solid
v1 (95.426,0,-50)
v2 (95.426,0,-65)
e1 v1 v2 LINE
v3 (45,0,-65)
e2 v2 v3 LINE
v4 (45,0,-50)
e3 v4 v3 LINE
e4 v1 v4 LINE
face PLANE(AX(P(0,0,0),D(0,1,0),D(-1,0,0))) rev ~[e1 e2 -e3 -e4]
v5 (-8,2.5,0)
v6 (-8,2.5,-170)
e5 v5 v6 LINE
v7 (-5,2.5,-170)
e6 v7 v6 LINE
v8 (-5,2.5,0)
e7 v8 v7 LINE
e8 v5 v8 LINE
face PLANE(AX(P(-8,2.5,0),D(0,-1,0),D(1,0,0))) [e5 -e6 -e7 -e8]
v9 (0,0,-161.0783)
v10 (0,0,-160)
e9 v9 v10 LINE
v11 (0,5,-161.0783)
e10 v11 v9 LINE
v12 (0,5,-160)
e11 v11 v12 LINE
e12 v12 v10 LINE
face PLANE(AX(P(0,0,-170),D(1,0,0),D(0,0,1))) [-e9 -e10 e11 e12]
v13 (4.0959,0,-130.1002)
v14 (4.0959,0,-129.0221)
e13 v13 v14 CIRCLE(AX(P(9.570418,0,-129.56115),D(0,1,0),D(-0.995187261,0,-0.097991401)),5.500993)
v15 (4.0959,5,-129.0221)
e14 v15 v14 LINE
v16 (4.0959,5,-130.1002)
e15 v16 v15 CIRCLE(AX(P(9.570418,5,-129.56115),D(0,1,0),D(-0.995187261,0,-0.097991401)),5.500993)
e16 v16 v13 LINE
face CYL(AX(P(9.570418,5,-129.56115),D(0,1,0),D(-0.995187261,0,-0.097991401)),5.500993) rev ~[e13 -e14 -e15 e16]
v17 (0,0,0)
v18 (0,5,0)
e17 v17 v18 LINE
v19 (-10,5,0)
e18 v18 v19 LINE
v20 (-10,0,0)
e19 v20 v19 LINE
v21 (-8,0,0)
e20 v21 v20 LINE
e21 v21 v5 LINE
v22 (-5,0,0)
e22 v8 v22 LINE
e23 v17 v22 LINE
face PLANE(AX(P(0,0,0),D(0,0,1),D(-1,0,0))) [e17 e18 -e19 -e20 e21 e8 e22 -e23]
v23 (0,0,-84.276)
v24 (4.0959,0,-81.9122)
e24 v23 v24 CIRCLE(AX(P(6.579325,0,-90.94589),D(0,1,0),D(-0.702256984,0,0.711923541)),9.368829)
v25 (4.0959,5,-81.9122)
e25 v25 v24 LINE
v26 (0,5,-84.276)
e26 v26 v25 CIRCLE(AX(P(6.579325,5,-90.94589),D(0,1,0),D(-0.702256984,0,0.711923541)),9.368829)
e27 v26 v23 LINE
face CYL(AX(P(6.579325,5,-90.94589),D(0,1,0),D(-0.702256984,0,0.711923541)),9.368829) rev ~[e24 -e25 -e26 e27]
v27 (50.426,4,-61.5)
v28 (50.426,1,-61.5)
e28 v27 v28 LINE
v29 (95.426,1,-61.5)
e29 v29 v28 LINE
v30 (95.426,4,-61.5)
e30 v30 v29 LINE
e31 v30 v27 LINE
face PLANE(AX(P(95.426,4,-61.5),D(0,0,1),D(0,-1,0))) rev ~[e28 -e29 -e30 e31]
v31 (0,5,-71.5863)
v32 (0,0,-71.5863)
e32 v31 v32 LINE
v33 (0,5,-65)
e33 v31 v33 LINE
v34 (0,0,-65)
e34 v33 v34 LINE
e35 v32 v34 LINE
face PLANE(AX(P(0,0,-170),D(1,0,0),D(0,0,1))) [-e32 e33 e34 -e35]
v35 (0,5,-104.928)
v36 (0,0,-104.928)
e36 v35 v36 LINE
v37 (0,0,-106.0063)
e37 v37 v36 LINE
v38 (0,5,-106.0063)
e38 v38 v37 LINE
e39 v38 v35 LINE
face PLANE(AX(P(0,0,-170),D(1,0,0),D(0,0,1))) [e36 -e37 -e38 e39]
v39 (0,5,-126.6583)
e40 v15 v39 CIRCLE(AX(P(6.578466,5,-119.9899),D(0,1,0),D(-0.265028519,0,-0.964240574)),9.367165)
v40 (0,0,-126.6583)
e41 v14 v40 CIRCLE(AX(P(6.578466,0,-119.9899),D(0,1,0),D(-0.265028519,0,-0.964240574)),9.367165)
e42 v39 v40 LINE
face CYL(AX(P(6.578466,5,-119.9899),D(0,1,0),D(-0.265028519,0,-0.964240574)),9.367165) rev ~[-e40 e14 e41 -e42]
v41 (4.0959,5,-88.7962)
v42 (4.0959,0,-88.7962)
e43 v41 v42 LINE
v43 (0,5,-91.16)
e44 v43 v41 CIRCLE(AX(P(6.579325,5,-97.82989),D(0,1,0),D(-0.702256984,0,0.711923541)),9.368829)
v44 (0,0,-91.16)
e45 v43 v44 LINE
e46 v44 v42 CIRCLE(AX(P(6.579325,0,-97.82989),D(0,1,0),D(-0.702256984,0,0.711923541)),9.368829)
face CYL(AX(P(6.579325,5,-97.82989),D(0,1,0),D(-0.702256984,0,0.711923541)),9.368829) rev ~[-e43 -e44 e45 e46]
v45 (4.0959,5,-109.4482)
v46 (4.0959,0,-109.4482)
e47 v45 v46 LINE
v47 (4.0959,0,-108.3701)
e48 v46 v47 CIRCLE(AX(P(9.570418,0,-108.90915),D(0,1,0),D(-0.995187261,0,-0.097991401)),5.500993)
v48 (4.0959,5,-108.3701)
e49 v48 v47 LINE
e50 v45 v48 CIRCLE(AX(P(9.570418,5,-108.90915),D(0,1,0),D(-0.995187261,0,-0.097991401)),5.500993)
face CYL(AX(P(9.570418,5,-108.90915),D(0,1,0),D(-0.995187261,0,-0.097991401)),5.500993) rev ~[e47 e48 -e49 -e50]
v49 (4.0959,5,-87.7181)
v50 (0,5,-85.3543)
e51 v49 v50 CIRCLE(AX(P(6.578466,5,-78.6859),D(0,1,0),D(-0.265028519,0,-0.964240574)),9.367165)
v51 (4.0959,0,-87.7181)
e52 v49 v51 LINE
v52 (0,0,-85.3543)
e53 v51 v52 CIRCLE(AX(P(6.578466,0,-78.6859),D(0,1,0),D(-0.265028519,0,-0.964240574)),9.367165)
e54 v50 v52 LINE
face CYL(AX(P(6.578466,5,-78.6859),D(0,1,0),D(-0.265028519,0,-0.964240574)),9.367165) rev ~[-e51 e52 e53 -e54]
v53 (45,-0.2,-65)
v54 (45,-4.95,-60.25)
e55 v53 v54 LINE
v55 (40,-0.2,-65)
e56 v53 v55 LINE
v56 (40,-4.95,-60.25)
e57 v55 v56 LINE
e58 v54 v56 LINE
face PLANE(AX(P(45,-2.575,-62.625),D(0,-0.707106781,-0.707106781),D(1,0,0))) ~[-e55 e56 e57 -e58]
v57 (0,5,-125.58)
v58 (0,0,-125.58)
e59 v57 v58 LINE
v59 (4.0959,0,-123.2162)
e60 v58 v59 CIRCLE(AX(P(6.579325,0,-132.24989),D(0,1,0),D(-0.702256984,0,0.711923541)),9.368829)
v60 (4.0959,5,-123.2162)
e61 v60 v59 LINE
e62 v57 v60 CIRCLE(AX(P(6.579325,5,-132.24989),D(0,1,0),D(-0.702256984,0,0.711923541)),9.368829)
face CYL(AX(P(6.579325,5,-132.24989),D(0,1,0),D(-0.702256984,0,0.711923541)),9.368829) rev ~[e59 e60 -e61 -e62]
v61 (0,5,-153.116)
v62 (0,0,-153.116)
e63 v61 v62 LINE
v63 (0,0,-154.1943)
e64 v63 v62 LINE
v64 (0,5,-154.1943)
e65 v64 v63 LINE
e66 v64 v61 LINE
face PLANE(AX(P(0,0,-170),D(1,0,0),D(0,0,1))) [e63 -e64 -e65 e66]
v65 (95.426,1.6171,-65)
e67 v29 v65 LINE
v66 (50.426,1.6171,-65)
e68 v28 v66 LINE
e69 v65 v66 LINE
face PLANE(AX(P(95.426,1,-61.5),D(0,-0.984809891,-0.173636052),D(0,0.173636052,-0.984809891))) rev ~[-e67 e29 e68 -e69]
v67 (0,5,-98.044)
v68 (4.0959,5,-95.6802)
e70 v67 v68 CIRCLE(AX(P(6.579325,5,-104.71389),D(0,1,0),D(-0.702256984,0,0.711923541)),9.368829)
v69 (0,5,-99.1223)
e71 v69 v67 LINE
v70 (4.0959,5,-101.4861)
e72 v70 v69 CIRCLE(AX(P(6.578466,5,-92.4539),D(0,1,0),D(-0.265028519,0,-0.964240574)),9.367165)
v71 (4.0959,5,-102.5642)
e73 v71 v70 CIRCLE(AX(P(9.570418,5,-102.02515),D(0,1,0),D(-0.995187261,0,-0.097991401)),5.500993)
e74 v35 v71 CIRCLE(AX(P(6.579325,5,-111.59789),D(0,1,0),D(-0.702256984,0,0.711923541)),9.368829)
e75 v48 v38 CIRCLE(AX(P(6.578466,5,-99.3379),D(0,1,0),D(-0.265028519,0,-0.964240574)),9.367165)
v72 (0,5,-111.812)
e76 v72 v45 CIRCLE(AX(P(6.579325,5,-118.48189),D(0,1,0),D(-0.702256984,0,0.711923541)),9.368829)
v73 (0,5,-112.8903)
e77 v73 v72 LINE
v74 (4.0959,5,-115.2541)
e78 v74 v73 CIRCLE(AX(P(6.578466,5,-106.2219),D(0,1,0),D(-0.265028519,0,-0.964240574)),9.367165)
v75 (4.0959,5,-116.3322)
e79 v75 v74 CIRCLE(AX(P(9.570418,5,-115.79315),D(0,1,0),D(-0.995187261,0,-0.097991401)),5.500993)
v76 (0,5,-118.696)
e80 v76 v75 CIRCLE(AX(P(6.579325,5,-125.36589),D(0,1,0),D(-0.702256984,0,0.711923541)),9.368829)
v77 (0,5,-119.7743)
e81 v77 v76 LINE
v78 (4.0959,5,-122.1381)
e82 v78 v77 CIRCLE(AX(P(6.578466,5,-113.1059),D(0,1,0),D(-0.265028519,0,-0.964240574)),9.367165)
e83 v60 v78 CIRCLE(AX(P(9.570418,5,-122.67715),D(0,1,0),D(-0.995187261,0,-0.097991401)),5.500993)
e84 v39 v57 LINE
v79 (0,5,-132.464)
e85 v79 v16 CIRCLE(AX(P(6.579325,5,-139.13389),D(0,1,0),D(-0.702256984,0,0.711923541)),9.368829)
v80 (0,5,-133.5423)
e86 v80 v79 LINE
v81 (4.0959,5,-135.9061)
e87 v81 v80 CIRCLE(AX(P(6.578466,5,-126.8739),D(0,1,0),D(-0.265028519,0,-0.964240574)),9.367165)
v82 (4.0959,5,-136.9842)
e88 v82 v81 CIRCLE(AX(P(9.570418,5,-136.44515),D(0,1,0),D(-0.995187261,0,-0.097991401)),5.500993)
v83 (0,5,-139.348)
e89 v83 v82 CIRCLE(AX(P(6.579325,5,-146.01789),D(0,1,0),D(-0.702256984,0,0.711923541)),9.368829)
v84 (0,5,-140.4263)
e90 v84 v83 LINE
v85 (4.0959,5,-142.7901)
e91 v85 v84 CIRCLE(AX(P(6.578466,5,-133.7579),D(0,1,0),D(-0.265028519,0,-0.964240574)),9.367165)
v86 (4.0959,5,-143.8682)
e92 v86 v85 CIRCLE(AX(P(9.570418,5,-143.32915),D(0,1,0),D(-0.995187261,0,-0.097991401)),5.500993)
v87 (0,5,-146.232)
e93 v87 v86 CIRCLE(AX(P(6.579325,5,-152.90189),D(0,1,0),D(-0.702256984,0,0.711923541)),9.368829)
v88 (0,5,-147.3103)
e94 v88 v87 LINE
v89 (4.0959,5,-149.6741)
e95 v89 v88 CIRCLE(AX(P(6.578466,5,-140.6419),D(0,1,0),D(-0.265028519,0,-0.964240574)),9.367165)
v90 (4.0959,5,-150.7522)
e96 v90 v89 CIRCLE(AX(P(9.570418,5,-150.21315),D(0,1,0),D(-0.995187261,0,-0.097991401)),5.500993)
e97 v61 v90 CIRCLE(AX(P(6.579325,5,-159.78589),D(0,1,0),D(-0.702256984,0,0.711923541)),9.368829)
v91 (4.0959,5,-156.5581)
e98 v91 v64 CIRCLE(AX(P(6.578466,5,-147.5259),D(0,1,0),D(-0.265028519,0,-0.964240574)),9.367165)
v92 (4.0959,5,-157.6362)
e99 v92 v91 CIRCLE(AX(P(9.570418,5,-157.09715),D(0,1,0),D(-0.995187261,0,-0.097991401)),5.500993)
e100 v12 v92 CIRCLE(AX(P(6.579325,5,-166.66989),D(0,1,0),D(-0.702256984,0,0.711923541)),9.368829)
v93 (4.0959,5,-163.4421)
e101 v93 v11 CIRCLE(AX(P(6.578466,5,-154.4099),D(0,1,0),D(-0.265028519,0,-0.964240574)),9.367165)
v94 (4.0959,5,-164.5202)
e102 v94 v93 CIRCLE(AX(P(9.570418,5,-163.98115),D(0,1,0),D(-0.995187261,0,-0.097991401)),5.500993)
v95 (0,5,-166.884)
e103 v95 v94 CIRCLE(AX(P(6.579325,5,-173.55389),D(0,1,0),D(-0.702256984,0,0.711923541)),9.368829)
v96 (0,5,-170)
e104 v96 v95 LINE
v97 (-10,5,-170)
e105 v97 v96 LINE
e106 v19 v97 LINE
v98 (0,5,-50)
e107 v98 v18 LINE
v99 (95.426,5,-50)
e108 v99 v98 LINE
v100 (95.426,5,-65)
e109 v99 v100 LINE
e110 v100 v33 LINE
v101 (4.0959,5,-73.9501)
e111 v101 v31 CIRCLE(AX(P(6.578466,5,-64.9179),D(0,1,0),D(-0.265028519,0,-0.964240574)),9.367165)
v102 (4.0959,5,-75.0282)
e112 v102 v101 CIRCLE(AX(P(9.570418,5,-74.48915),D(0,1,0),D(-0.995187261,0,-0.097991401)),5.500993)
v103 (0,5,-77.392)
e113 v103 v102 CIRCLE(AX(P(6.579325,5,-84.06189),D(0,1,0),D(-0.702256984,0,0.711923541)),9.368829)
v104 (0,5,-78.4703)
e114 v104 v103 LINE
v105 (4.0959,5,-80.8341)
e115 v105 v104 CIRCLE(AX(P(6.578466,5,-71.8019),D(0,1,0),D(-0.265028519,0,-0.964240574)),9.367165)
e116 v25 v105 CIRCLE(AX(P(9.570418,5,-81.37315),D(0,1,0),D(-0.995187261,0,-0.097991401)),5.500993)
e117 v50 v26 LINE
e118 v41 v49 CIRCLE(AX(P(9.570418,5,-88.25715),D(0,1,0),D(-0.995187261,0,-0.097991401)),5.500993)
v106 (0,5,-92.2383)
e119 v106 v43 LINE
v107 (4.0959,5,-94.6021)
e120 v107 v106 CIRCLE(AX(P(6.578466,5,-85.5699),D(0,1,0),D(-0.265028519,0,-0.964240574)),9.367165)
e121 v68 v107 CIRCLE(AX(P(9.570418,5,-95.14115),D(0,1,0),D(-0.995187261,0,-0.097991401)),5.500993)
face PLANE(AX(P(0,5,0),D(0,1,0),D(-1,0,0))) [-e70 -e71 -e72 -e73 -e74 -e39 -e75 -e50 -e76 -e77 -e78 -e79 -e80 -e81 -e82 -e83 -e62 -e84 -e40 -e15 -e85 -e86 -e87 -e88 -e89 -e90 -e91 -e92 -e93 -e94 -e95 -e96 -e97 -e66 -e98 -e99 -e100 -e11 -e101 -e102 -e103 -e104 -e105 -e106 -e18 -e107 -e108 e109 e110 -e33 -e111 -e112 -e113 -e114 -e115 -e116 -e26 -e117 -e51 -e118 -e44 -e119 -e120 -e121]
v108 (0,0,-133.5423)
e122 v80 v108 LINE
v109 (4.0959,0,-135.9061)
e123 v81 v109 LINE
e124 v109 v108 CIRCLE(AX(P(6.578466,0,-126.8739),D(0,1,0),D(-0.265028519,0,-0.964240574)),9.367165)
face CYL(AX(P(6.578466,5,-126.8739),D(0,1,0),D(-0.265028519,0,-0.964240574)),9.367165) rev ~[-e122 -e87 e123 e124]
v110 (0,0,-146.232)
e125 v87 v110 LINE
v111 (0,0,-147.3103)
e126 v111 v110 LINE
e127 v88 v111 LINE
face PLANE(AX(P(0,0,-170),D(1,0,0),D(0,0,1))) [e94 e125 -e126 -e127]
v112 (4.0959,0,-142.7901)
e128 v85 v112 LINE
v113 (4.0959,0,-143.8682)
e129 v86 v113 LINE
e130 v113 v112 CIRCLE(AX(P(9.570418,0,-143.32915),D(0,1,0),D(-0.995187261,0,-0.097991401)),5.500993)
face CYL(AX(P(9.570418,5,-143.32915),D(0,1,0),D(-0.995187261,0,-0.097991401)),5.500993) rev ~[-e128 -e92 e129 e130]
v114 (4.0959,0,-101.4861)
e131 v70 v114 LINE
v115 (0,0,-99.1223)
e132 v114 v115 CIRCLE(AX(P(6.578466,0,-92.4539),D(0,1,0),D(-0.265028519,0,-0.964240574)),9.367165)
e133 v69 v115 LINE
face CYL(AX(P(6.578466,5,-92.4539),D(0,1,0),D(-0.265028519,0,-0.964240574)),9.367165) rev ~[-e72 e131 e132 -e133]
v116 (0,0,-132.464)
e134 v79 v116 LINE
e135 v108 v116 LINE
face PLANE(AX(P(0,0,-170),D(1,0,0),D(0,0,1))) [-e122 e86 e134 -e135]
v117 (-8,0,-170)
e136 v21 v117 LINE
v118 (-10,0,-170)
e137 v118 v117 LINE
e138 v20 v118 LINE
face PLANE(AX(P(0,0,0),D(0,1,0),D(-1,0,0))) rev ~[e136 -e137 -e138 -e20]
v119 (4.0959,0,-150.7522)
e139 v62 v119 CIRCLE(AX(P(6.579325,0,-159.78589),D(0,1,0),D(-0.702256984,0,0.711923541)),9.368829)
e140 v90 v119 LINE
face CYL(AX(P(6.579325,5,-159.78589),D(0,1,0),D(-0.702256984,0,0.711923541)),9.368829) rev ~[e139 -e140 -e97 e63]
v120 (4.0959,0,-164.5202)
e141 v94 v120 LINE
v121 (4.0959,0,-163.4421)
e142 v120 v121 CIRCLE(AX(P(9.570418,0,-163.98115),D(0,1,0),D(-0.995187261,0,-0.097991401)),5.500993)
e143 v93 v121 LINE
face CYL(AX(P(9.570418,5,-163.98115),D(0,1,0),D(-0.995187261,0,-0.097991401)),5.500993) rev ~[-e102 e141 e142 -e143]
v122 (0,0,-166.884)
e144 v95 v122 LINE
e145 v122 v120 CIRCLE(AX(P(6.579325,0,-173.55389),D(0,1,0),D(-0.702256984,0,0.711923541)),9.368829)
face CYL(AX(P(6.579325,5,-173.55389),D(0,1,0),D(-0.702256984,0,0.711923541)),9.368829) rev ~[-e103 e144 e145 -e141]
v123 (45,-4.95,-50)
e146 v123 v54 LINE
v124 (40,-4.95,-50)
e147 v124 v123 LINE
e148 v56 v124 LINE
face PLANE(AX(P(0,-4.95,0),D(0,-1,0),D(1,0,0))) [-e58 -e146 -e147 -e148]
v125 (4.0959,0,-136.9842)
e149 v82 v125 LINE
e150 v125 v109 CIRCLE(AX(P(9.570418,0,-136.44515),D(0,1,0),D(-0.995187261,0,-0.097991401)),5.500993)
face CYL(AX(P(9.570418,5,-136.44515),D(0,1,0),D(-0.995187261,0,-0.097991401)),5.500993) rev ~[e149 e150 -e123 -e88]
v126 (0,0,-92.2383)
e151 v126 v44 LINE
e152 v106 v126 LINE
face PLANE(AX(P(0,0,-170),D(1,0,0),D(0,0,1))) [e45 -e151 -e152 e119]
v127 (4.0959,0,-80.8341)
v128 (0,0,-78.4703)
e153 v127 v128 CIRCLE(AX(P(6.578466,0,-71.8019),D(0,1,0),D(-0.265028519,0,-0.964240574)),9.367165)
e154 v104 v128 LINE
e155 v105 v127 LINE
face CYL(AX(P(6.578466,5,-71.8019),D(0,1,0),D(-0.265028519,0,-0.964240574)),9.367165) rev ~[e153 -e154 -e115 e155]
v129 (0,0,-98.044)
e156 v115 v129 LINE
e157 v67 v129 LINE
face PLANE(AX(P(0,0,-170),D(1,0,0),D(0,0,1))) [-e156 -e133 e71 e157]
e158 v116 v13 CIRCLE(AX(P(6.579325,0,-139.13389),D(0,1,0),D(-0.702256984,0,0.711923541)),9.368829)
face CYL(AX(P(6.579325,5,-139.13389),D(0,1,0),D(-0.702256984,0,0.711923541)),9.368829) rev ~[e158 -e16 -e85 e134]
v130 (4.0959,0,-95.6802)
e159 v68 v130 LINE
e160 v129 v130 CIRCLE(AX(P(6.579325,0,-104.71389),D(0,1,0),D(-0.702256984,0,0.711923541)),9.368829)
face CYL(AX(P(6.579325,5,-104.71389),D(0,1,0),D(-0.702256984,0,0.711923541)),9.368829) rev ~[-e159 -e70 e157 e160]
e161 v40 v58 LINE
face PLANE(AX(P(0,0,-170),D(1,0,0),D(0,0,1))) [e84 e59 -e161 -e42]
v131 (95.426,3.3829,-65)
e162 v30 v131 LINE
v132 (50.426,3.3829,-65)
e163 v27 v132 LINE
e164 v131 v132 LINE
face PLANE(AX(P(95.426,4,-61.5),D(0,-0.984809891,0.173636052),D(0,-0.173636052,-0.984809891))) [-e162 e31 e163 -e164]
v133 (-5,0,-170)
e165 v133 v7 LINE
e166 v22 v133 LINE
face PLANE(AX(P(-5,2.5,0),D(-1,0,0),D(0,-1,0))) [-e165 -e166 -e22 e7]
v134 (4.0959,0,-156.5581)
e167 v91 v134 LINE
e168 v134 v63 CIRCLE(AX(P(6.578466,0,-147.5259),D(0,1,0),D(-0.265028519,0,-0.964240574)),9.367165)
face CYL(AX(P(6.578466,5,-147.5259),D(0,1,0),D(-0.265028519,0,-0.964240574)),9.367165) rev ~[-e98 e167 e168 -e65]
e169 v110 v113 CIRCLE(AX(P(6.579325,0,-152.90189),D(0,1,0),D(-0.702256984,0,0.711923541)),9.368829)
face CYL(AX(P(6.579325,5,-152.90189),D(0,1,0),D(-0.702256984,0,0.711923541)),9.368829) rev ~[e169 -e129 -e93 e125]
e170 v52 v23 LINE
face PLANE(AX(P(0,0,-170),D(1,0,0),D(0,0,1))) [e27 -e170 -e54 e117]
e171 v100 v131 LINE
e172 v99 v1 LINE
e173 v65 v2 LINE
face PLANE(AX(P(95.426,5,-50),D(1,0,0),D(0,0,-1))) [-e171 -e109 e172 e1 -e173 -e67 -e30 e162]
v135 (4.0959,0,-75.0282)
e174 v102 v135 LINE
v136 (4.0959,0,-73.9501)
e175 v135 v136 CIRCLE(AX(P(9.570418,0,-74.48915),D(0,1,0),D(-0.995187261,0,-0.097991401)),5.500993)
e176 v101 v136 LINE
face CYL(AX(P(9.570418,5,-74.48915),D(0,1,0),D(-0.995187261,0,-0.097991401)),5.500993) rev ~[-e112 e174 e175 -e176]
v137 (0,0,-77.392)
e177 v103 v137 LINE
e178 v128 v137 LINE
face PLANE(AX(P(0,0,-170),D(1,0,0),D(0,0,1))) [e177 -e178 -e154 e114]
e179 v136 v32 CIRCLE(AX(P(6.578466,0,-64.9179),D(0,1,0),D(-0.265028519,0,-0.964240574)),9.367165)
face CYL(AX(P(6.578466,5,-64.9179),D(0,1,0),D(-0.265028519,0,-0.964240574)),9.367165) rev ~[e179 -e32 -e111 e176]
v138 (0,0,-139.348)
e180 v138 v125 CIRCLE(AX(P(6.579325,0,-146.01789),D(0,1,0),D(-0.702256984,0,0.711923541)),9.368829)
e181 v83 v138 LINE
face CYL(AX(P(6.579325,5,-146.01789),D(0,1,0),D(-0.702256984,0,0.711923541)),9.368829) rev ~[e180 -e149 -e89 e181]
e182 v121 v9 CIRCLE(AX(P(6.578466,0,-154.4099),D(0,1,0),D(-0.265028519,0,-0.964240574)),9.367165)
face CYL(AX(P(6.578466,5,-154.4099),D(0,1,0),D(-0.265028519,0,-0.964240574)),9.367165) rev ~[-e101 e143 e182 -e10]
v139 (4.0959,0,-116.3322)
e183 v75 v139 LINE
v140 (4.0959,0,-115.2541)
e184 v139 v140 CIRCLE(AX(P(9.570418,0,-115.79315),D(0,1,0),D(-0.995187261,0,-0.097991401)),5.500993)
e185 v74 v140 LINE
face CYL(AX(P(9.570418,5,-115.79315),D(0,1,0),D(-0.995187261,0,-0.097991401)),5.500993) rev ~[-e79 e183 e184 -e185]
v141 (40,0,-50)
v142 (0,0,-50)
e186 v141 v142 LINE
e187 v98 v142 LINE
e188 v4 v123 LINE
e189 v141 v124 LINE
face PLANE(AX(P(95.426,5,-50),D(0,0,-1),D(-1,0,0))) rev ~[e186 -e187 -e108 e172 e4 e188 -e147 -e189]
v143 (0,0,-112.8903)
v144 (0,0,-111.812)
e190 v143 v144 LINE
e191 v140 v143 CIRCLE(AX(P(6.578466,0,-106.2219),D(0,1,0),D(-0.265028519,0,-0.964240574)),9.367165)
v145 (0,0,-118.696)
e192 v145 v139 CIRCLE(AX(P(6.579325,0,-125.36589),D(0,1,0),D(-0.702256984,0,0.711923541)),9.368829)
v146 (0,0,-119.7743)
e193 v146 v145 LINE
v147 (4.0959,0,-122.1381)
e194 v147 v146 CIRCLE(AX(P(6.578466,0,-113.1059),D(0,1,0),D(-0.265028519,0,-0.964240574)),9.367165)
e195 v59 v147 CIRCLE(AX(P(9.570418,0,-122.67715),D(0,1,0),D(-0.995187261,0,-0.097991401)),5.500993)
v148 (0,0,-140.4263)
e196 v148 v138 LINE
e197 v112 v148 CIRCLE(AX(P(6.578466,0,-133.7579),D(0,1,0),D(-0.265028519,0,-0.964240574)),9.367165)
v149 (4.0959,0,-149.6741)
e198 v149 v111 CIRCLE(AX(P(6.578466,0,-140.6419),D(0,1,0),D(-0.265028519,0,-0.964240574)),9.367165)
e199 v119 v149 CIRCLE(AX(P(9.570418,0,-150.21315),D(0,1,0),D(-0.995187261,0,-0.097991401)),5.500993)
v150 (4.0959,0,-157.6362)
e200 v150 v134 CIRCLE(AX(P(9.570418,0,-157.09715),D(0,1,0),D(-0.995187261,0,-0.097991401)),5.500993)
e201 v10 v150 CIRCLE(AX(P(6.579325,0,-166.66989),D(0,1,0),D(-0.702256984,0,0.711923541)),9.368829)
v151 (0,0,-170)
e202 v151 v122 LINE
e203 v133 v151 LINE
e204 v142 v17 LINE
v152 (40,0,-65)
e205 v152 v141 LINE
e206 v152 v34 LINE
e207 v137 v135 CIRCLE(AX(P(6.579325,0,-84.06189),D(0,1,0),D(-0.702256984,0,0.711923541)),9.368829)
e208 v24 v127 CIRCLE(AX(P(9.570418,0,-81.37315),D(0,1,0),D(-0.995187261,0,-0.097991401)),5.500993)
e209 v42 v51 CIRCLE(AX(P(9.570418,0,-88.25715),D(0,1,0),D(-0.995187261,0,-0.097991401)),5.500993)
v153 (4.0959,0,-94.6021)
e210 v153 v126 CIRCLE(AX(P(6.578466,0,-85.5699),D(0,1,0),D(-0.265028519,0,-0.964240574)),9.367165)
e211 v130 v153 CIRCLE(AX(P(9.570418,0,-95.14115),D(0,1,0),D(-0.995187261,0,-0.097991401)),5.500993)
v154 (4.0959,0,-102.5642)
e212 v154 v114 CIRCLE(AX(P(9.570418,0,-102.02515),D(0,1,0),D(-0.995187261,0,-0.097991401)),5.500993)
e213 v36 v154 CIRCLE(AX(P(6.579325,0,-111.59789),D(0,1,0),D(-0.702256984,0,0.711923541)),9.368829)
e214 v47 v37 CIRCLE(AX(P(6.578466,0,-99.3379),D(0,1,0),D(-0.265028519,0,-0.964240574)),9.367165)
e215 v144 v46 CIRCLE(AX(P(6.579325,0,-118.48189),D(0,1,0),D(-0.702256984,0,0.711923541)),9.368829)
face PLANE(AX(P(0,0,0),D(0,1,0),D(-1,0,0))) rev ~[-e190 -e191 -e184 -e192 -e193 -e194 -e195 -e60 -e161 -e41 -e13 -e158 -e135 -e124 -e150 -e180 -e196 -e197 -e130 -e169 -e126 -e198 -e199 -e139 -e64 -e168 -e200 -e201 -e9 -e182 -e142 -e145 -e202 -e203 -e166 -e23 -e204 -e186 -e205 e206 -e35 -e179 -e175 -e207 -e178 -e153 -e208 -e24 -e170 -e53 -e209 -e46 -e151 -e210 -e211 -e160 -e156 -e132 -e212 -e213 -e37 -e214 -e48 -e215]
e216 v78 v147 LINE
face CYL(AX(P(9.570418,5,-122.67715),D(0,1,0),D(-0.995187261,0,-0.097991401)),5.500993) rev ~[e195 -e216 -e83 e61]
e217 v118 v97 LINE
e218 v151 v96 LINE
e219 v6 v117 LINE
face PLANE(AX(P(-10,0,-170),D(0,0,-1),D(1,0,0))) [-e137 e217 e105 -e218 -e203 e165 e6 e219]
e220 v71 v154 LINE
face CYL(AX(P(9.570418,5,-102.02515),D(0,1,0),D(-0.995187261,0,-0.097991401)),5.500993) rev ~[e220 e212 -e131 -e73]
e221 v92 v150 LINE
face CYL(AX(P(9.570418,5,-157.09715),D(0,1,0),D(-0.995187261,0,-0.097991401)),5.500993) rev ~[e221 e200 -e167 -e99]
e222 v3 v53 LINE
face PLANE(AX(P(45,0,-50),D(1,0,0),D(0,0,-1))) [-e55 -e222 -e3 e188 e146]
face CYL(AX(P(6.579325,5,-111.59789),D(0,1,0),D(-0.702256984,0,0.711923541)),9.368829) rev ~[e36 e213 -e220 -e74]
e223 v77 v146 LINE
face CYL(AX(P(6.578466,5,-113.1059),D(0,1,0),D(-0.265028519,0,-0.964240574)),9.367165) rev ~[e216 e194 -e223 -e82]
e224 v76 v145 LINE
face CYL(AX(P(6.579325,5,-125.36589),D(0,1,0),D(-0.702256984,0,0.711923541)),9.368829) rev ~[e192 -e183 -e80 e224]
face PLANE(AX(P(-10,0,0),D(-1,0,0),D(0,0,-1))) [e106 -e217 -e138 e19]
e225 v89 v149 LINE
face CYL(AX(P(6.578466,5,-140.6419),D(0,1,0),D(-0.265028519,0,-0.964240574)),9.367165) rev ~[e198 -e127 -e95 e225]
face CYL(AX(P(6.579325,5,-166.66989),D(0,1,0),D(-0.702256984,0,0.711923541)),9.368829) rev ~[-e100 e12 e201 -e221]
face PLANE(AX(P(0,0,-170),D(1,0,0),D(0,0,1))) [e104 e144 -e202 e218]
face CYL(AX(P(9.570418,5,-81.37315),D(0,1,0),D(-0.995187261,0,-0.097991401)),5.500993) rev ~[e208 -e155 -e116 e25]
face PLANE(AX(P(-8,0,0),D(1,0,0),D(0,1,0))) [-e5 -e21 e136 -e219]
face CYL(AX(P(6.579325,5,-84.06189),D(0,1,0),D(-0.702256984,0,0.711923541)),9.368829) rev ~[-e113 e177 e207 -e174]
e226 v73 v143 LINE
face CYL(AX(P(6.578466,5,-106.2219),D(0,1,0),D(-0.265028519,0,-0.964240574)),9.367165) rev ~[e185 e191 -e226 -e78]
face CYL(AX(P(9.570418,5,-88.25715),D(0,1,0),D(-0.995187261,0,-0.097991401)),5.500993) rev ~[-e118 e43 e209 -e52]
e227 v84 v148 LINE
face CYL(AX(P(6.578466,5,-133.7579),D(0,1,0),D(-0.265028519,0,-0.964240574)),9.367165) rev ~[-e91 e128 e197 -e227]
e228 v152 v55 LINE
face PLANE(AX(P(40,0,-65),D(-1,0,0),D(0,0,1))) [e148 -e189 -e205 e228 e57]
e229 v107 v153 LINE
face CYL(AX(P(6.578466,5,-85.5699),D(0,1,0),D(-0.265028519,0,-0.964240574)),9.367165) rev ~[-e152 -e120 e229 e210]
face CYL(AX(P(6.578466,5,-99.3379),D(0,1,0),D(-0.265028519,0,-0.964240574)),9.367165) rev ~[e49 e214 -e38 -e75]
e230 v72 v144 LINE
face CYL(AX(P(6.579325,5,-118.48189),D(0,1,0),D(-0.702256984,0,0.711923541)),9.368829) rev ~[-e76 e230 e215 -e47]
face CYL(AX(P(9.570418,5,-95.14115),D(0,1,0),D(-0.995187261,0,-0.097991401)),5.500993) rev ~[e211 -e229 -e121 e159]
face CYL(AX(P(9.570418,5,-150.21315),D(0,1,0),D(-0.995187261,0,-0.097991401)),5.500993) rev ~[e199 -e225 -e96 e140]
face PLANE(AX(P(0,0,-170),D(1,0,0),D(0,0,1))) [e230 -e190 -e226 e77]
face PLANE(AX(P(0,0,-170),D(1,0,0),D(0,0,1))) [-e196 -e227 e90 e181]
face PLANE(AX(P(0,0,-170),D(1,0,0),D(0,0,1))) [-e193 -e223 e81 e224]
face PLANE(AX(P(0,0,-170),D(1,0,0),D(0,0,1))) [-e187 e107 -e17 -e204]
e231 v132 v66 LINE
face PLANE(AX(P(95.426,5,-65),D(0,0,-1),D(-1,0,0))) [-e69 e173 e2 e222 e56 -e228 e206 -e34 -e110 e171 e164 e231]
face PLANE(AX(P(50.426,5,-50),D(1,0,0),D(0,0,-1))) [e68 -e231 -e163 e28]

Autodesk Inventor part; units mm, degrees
ref_plane "YZ Plane" through (0, 0, 0) normal (1, 0, 0) x (0, 1, 0)
ref_plane "XZ Plane" through (0, 0, 0) normal (0, 1, 0) x (-1, 0, 0)
ref_plane "XY Plane" through (0, 0, 0) normal (0, 0, 1) x (1, 0, 0)
sketch "Sketch1" plane through (0, 0, 0) normal (0, 1, 0) x (-1, 0, 0)
  line L0 (0, 0) -> (10, 0)
  line L1 (10, 0) -> (10, -170)
  line L2 (10, -170) -> (0, -170)
  line L3 (0, -170) -> (0, 0)
  dimension "d0" = 170
  dimension "d1" = 10
extrude "Extrusion1" add sketch "Sketch1" along normal blind 5
sketch "Sketch2" plane through (-10, 0, 0) normal (0, 0, 1) x (1, 0, 0)
  line L0 (2, 0) -> (2, 2.5)
  line L1 (2, 2.5) -> (5, 2.5)
  line L2 (0, 0) -> (0, 5) projected
  line L3 (5, 2.5) -> (5, 0)
  line L4 (0, 0) -> (10, 0) projected
  dimension "d6" = 2
  dimension "d9" = 3
  dimension "d75" = 2.5
sketch "Sketch4" plane through (0, 5, 0) normal (0, 1, 0) x (1, 0, 0)
  line L0 (95.426, 50) -> (95.426, 65)
  line L1 (95.426, 65) -> (0, 65)
  line L2 (95.426, 50) -> (0, 50)
  line L3 (-10, 0) -> (0, 0) projected
  line L4 (0, 0) -> (0, 170) projected
  line L5 (0, 50) -> (0, 65)
  dimension "d107" = 95.426
  dimension "d108" = 15
  dimension "d109" = 50
extrude "Extrusion4" add sketch "Sketch4" against normal blind 5
sketch "Sketch6" plane through (0, 5, 0) normal (0, 1, 0) x (1, 0, 0)
  line L0 (0, 0) -> (0, 170) projected
  line L1 (95.426, 50) -> (95.426, 65) projected
  arc A0 (4.0959, 156.5581) -> (0, 154.1943) centre (6.5788, 147.5251) ccw
  arc A1 (4.0959, 157.6362) -> (4.0959, 156.5581) centre (9.5694, 157.0972) ccw
  arc A2 (0, 160) -> (4.0959, 157.6362) centre (6.5788, 166.6692) ccw
  line L2 (0, 154.1943) -> (0, 160)
  arc A3 (4.0959, 163.4421) -> (0, 161.0783) centre (6.5788, 154.4091) ccw
  arc A4 (4.0959, 164.5202) -> (4.0959, 163.4421) centre (9.5694, 163.9812) ccw
  arc A5 (0, 166.884) -> (4.0959, 164.5202) centre (6.5788, 173.5532) ccw
  arc A6 (4.0959, 149.6741) -> (0, 147.3103) centre (6.5788, 140.6411) ccw
  arc A7 (4.0959, 150.7522) -> (4.0959, 149.6741) centre (9.5694, 150.2132) ccw
  arc A8 (0, 153.116) -> (4.0959, 150.7522) centre (6.5788, 159.7852) ccw
  arc A9 (4.0959, 142.7901) -> (0, 140.4263) centre (6.5788, 133.7571) ccw
  arc A10 (4.0959, 143.8682) -> (4.0959, 142.7901) centre (9.5694, 143.3292) ccw
  arc A11 (0, 146.232) -> (4.0959, 143.8682) centre (6.5788, 152.9012) ccw
  arc A12 (4.0959, 135.9061) -> (0, 133.5423) centre (6.5788, 126.8731) ccw
  arc A13 (4.0959, 136.9842) -> (4.0959, 135.9061) centre (9.5694, 136.4452) ccw
  arc A14 (0, 139.348) -> (4.0959, 136.9842) centre (6.5788, 146.0172) ccw
  arc A15 (4.0959, 129.0221) -> (0, 126.6583) centre (6.5788, 119.9891) ccw
  arc A16 (4.0959, 130.1002) -> (4.0959, 129.0221) centre (9.5694, 129.5612) ccw
  arc A17 (0, 132.464) -> (4.0959, 130.1002) centre (6.5788, 139.1332) ccw
  arc A18 (4.0959, 122.1381) -> (0, 119.7743) centre (6.5788, 113.1051) ccw
  arc A19 (4.0959, 123.2162) -> (4.0959, 122.1381) centre (9.5694, 122.6772) ccw
  arc A20 (0, 125.58) -> (4.0959, 123.2162) centre (6.5788, 132.2492) ccw
  arc A21 (4.0959, 115.2541) -> (0, 112.8903) centre (6.5788, 106.2211) ccw
  arc A22 (4.0959, 116.3322) -> (4.0959, 115.2541) centre (9.5694, 115.7932) ccw
  arc A23 (0, 118.696) -> (4.0959, 116.3322) centre (6.5788, 125.3652) ccw
  arc A24 (4.0959, 108.3701) -> (0, 106.0063) centre (6.5788, 99.3371) ccw
  arc A25 (4.0959, 109.4482) -> (4.0959, 108.3701) centre (9.5694, 108.9092) ccw
  arc A26 (0, 111.812) -> (4.0959, 109.4482) centre (6.5788, 118.4812) ccw
  arc A27 (4.0959, 101.4861) -> (0, 99.1223) centre (6.5788, 92.4531) ccw
  arc A28 (4.0959, 102.5642) -> (4.0959, 101.4861) centre (9.5694, 102.0252) ccw
  arc A29 (0, 104.928) -> (4.0959, 102.5642) centre (6.5788, 111.5972) ccw
  arc A30 (4.0959, 94.6021) -> (0, 92.2383) centre (6.5788, 85.5691) ccw
  arc A31 (4.0959, 95.6802) -> (4.0959, 94.6021) centre (9.5694, 95.1412) ccw
  arc A32 (0, 98.044) -> (4.0959, 95.6802) centre (6.5788, 104.7132) ccw
  arc A33 (4.0959, 87.7181) -> (0, 85.3543) centre (6.5788, 78.6851) ccw
  arc A34 (4.0959, 88.7962) -> (4.0959, 87.7181) centre (9.5694, 88.2572) ccw
  arc A35 (0, 91.16) -> (4.0959, 88.7962) centre (6.5788, 97.8292) ccw
  arc A36 (4.0959, 80.8341) -> (0, 78.4703) centre (6.5788, 71.8011) ccw
  arc A37 (4.0959, 81.9122) -> (4.0959, 80.8341) centre (9.5694, 81.3732) ccw
  arc A38 (0, 84.276) -> (4.0959, 81.9122) centre (6.5788, 90.9452) ccw
  arc A39 (4.0959, 73.9501) -> (0, 71.5863) centre (6.5788, 64.9171) ccw
  arc A40 (4.0959, 75.0282) -> (4.0959, 73.9501) centre (9.5694, 74.4892) ccw
  arc A41 (0, 77.392) -> (4.0959, 75.0282) centre (6.5788, 84.0612) ccw
  point P0 (0, 65)
  point P1 (0, 154.1943)
  point P2 (0, 166.884)
  point P3 (0, 161.0783)
  point P4 (0, 77.392)
  point P5 (0, 71.5863)
  point P6 (0, 84.276)
  point P7 (0, 78.4703)
  point P8 (0, 91.16)
  point P9 (0, 85.3543)
  point P10 (0, 98.044)
  point P11 (0, 92.2383)
  point P12 (0, 104.928)
  point P13 (0, 99.1223)
  point P14 (0, 111.812)
  point P15 (0, 106.0063)
  point P16 (0, 118.696)
  point P17 (0, 112.8903)
  point P18 (0, 125.58)
  point P19 (0, 119.7743)
  point P20 (0, 132.464)
  point P21 (0, 126.6583)
  point P22 (0, 139.348)
  point P23 (0, 133.5423)
  point P24 (0, 146.232)
  point P25 (0, 140.4263)
  point P26 (0, 153.116)
  point P27 (0, 147.3103)
  dimension "d80" = 6.884
  dimension "d88" = 6.884
  dimension "d200" = 5.5
  dimension "d201" = 9.368
  dimension "d202" = 95.426
  dimension "d203" = 95.426
  dimension "d204" = 85.8566
  dimension "d205" = 88.8472
  dimension "d206" = 88.8472
  dimension "d207" = 91.3301
  dimension "d208" = 91.3301
  dimension "d209" = 95.426
  dimension "d210" = 95.426
  dimension "d211" = 95.426
  dimension "d212" = 95.426
  dimension "d213" = 95.426
  dimension "d214" = 95.426
  dimension "d215" = 95.426
  dimension "d216" = 95.426
  dimension "d217" = 95.426
  dimension "d218" = 95.426
  dimension "d219" = 95.426
  dimension "d220" = 95.426
  dimension "d221" = 95.426
  dimension "d222" = 95.426
  dimension "d223" = 95.426
  dimension "d224" = 95.426
  dimension "d225" = 95.426
  dimension "d226" = 95.426
  dimension "d227" = 95.426
  dimension "d228" = 95.426
  dimension "d229" = 95.426
  dimension "d230" = 95.426
  dimension "d231" = 95.426
  dimension "d232" = 95.426
  dimension "d233" = 95.426
  dimension "d234" = 95.426
  dimension "d235" = 95.426
  dimension "d236" = 95.426
  dimension "d237" = 131.0291
  dimension "d238" = 139.594
  dimension "d239" = 135.4148
  dimension "d240" = 134.6518
  dimension "d241" = 130.6206
  dimension "d242" = 129.8867
  dimension "d243" = 126.0203
  dimension "d244" = 125.3186
  dimension "d245" = 121.6357
  dimension "d246" = 120.97
  dimension "d247" = 117.4912
  dimension "d248" = 116.8654
  dimension "d249" = 113.6128
  dimension "d250" = 113.0312
  dimension "d251" = 110.0288
  dimension "d252" = 109.496
  dimension "d253" = 106.7689
  dimension "d254" = 106.2896
  dimension "d255" = 103.8636
  dimension "d256" = 103.4426
  dimension "d257" = 101.3432
  dimension "d258" = 100.9853
  dimension "d259" = 99.2373
  dimension "d260" = 98.9468
  dimension "d261" = 97.5726
extrude "Extrusion6" add sketch "Sketch6" against normal blind 5
extrude "Extrusion10" cut sketch "Sketch2" against normal blind 300
sketch "Sketch9" plane through (0, 0, 0) normal (0, -1, 0) x (1, 0, 0)
  line L0 (95.426, -65) -> (0, -65) projected
  line L1 (40, -50) -> (45, -50)
  line L2 (45, -50) -> (45, -65)
  line L3 (45, -65) -> (40, -65)
  line L4 (40, -65) -> (40, -50)
  line L5 (95.426, -50) -> (0, -50) projected
  line L6 (-10, -170) -> (-10, 0) projected
  point P0 (0, 0)
  dimension "d93" = 5
  dimension "d94" = 55
extrude "Extrusion11" add sketch "Sketch9" along normal blind 4.95
chamfer "Chamfer1" distance 4.75 angle 45 1 edges at (42.5, -4.95, -65)
sketch "Sketch11" plane through (95.426, 5, -50) normal (1, 0, 0) x (0, 0, -1)
  line L0 (15, 0) -> (15, -5) projected
  line L1 (11.5, -1) -> (11.5, -4)
  line L2 (11.5, -4) -> (15, -3.3829)
  line L3 (11.5, -1) -> (15, -1.6171)
  point P0 (11.5, -2.5)
  point P1 (15, -2.5)
  dimension "d100" = 3.5
  dimension "d101" = 80
  dimension "d104" = 3
extrude "Extrusion12" cut sketch "Sketch11" against normal blind 45
properties part number "Rack"
